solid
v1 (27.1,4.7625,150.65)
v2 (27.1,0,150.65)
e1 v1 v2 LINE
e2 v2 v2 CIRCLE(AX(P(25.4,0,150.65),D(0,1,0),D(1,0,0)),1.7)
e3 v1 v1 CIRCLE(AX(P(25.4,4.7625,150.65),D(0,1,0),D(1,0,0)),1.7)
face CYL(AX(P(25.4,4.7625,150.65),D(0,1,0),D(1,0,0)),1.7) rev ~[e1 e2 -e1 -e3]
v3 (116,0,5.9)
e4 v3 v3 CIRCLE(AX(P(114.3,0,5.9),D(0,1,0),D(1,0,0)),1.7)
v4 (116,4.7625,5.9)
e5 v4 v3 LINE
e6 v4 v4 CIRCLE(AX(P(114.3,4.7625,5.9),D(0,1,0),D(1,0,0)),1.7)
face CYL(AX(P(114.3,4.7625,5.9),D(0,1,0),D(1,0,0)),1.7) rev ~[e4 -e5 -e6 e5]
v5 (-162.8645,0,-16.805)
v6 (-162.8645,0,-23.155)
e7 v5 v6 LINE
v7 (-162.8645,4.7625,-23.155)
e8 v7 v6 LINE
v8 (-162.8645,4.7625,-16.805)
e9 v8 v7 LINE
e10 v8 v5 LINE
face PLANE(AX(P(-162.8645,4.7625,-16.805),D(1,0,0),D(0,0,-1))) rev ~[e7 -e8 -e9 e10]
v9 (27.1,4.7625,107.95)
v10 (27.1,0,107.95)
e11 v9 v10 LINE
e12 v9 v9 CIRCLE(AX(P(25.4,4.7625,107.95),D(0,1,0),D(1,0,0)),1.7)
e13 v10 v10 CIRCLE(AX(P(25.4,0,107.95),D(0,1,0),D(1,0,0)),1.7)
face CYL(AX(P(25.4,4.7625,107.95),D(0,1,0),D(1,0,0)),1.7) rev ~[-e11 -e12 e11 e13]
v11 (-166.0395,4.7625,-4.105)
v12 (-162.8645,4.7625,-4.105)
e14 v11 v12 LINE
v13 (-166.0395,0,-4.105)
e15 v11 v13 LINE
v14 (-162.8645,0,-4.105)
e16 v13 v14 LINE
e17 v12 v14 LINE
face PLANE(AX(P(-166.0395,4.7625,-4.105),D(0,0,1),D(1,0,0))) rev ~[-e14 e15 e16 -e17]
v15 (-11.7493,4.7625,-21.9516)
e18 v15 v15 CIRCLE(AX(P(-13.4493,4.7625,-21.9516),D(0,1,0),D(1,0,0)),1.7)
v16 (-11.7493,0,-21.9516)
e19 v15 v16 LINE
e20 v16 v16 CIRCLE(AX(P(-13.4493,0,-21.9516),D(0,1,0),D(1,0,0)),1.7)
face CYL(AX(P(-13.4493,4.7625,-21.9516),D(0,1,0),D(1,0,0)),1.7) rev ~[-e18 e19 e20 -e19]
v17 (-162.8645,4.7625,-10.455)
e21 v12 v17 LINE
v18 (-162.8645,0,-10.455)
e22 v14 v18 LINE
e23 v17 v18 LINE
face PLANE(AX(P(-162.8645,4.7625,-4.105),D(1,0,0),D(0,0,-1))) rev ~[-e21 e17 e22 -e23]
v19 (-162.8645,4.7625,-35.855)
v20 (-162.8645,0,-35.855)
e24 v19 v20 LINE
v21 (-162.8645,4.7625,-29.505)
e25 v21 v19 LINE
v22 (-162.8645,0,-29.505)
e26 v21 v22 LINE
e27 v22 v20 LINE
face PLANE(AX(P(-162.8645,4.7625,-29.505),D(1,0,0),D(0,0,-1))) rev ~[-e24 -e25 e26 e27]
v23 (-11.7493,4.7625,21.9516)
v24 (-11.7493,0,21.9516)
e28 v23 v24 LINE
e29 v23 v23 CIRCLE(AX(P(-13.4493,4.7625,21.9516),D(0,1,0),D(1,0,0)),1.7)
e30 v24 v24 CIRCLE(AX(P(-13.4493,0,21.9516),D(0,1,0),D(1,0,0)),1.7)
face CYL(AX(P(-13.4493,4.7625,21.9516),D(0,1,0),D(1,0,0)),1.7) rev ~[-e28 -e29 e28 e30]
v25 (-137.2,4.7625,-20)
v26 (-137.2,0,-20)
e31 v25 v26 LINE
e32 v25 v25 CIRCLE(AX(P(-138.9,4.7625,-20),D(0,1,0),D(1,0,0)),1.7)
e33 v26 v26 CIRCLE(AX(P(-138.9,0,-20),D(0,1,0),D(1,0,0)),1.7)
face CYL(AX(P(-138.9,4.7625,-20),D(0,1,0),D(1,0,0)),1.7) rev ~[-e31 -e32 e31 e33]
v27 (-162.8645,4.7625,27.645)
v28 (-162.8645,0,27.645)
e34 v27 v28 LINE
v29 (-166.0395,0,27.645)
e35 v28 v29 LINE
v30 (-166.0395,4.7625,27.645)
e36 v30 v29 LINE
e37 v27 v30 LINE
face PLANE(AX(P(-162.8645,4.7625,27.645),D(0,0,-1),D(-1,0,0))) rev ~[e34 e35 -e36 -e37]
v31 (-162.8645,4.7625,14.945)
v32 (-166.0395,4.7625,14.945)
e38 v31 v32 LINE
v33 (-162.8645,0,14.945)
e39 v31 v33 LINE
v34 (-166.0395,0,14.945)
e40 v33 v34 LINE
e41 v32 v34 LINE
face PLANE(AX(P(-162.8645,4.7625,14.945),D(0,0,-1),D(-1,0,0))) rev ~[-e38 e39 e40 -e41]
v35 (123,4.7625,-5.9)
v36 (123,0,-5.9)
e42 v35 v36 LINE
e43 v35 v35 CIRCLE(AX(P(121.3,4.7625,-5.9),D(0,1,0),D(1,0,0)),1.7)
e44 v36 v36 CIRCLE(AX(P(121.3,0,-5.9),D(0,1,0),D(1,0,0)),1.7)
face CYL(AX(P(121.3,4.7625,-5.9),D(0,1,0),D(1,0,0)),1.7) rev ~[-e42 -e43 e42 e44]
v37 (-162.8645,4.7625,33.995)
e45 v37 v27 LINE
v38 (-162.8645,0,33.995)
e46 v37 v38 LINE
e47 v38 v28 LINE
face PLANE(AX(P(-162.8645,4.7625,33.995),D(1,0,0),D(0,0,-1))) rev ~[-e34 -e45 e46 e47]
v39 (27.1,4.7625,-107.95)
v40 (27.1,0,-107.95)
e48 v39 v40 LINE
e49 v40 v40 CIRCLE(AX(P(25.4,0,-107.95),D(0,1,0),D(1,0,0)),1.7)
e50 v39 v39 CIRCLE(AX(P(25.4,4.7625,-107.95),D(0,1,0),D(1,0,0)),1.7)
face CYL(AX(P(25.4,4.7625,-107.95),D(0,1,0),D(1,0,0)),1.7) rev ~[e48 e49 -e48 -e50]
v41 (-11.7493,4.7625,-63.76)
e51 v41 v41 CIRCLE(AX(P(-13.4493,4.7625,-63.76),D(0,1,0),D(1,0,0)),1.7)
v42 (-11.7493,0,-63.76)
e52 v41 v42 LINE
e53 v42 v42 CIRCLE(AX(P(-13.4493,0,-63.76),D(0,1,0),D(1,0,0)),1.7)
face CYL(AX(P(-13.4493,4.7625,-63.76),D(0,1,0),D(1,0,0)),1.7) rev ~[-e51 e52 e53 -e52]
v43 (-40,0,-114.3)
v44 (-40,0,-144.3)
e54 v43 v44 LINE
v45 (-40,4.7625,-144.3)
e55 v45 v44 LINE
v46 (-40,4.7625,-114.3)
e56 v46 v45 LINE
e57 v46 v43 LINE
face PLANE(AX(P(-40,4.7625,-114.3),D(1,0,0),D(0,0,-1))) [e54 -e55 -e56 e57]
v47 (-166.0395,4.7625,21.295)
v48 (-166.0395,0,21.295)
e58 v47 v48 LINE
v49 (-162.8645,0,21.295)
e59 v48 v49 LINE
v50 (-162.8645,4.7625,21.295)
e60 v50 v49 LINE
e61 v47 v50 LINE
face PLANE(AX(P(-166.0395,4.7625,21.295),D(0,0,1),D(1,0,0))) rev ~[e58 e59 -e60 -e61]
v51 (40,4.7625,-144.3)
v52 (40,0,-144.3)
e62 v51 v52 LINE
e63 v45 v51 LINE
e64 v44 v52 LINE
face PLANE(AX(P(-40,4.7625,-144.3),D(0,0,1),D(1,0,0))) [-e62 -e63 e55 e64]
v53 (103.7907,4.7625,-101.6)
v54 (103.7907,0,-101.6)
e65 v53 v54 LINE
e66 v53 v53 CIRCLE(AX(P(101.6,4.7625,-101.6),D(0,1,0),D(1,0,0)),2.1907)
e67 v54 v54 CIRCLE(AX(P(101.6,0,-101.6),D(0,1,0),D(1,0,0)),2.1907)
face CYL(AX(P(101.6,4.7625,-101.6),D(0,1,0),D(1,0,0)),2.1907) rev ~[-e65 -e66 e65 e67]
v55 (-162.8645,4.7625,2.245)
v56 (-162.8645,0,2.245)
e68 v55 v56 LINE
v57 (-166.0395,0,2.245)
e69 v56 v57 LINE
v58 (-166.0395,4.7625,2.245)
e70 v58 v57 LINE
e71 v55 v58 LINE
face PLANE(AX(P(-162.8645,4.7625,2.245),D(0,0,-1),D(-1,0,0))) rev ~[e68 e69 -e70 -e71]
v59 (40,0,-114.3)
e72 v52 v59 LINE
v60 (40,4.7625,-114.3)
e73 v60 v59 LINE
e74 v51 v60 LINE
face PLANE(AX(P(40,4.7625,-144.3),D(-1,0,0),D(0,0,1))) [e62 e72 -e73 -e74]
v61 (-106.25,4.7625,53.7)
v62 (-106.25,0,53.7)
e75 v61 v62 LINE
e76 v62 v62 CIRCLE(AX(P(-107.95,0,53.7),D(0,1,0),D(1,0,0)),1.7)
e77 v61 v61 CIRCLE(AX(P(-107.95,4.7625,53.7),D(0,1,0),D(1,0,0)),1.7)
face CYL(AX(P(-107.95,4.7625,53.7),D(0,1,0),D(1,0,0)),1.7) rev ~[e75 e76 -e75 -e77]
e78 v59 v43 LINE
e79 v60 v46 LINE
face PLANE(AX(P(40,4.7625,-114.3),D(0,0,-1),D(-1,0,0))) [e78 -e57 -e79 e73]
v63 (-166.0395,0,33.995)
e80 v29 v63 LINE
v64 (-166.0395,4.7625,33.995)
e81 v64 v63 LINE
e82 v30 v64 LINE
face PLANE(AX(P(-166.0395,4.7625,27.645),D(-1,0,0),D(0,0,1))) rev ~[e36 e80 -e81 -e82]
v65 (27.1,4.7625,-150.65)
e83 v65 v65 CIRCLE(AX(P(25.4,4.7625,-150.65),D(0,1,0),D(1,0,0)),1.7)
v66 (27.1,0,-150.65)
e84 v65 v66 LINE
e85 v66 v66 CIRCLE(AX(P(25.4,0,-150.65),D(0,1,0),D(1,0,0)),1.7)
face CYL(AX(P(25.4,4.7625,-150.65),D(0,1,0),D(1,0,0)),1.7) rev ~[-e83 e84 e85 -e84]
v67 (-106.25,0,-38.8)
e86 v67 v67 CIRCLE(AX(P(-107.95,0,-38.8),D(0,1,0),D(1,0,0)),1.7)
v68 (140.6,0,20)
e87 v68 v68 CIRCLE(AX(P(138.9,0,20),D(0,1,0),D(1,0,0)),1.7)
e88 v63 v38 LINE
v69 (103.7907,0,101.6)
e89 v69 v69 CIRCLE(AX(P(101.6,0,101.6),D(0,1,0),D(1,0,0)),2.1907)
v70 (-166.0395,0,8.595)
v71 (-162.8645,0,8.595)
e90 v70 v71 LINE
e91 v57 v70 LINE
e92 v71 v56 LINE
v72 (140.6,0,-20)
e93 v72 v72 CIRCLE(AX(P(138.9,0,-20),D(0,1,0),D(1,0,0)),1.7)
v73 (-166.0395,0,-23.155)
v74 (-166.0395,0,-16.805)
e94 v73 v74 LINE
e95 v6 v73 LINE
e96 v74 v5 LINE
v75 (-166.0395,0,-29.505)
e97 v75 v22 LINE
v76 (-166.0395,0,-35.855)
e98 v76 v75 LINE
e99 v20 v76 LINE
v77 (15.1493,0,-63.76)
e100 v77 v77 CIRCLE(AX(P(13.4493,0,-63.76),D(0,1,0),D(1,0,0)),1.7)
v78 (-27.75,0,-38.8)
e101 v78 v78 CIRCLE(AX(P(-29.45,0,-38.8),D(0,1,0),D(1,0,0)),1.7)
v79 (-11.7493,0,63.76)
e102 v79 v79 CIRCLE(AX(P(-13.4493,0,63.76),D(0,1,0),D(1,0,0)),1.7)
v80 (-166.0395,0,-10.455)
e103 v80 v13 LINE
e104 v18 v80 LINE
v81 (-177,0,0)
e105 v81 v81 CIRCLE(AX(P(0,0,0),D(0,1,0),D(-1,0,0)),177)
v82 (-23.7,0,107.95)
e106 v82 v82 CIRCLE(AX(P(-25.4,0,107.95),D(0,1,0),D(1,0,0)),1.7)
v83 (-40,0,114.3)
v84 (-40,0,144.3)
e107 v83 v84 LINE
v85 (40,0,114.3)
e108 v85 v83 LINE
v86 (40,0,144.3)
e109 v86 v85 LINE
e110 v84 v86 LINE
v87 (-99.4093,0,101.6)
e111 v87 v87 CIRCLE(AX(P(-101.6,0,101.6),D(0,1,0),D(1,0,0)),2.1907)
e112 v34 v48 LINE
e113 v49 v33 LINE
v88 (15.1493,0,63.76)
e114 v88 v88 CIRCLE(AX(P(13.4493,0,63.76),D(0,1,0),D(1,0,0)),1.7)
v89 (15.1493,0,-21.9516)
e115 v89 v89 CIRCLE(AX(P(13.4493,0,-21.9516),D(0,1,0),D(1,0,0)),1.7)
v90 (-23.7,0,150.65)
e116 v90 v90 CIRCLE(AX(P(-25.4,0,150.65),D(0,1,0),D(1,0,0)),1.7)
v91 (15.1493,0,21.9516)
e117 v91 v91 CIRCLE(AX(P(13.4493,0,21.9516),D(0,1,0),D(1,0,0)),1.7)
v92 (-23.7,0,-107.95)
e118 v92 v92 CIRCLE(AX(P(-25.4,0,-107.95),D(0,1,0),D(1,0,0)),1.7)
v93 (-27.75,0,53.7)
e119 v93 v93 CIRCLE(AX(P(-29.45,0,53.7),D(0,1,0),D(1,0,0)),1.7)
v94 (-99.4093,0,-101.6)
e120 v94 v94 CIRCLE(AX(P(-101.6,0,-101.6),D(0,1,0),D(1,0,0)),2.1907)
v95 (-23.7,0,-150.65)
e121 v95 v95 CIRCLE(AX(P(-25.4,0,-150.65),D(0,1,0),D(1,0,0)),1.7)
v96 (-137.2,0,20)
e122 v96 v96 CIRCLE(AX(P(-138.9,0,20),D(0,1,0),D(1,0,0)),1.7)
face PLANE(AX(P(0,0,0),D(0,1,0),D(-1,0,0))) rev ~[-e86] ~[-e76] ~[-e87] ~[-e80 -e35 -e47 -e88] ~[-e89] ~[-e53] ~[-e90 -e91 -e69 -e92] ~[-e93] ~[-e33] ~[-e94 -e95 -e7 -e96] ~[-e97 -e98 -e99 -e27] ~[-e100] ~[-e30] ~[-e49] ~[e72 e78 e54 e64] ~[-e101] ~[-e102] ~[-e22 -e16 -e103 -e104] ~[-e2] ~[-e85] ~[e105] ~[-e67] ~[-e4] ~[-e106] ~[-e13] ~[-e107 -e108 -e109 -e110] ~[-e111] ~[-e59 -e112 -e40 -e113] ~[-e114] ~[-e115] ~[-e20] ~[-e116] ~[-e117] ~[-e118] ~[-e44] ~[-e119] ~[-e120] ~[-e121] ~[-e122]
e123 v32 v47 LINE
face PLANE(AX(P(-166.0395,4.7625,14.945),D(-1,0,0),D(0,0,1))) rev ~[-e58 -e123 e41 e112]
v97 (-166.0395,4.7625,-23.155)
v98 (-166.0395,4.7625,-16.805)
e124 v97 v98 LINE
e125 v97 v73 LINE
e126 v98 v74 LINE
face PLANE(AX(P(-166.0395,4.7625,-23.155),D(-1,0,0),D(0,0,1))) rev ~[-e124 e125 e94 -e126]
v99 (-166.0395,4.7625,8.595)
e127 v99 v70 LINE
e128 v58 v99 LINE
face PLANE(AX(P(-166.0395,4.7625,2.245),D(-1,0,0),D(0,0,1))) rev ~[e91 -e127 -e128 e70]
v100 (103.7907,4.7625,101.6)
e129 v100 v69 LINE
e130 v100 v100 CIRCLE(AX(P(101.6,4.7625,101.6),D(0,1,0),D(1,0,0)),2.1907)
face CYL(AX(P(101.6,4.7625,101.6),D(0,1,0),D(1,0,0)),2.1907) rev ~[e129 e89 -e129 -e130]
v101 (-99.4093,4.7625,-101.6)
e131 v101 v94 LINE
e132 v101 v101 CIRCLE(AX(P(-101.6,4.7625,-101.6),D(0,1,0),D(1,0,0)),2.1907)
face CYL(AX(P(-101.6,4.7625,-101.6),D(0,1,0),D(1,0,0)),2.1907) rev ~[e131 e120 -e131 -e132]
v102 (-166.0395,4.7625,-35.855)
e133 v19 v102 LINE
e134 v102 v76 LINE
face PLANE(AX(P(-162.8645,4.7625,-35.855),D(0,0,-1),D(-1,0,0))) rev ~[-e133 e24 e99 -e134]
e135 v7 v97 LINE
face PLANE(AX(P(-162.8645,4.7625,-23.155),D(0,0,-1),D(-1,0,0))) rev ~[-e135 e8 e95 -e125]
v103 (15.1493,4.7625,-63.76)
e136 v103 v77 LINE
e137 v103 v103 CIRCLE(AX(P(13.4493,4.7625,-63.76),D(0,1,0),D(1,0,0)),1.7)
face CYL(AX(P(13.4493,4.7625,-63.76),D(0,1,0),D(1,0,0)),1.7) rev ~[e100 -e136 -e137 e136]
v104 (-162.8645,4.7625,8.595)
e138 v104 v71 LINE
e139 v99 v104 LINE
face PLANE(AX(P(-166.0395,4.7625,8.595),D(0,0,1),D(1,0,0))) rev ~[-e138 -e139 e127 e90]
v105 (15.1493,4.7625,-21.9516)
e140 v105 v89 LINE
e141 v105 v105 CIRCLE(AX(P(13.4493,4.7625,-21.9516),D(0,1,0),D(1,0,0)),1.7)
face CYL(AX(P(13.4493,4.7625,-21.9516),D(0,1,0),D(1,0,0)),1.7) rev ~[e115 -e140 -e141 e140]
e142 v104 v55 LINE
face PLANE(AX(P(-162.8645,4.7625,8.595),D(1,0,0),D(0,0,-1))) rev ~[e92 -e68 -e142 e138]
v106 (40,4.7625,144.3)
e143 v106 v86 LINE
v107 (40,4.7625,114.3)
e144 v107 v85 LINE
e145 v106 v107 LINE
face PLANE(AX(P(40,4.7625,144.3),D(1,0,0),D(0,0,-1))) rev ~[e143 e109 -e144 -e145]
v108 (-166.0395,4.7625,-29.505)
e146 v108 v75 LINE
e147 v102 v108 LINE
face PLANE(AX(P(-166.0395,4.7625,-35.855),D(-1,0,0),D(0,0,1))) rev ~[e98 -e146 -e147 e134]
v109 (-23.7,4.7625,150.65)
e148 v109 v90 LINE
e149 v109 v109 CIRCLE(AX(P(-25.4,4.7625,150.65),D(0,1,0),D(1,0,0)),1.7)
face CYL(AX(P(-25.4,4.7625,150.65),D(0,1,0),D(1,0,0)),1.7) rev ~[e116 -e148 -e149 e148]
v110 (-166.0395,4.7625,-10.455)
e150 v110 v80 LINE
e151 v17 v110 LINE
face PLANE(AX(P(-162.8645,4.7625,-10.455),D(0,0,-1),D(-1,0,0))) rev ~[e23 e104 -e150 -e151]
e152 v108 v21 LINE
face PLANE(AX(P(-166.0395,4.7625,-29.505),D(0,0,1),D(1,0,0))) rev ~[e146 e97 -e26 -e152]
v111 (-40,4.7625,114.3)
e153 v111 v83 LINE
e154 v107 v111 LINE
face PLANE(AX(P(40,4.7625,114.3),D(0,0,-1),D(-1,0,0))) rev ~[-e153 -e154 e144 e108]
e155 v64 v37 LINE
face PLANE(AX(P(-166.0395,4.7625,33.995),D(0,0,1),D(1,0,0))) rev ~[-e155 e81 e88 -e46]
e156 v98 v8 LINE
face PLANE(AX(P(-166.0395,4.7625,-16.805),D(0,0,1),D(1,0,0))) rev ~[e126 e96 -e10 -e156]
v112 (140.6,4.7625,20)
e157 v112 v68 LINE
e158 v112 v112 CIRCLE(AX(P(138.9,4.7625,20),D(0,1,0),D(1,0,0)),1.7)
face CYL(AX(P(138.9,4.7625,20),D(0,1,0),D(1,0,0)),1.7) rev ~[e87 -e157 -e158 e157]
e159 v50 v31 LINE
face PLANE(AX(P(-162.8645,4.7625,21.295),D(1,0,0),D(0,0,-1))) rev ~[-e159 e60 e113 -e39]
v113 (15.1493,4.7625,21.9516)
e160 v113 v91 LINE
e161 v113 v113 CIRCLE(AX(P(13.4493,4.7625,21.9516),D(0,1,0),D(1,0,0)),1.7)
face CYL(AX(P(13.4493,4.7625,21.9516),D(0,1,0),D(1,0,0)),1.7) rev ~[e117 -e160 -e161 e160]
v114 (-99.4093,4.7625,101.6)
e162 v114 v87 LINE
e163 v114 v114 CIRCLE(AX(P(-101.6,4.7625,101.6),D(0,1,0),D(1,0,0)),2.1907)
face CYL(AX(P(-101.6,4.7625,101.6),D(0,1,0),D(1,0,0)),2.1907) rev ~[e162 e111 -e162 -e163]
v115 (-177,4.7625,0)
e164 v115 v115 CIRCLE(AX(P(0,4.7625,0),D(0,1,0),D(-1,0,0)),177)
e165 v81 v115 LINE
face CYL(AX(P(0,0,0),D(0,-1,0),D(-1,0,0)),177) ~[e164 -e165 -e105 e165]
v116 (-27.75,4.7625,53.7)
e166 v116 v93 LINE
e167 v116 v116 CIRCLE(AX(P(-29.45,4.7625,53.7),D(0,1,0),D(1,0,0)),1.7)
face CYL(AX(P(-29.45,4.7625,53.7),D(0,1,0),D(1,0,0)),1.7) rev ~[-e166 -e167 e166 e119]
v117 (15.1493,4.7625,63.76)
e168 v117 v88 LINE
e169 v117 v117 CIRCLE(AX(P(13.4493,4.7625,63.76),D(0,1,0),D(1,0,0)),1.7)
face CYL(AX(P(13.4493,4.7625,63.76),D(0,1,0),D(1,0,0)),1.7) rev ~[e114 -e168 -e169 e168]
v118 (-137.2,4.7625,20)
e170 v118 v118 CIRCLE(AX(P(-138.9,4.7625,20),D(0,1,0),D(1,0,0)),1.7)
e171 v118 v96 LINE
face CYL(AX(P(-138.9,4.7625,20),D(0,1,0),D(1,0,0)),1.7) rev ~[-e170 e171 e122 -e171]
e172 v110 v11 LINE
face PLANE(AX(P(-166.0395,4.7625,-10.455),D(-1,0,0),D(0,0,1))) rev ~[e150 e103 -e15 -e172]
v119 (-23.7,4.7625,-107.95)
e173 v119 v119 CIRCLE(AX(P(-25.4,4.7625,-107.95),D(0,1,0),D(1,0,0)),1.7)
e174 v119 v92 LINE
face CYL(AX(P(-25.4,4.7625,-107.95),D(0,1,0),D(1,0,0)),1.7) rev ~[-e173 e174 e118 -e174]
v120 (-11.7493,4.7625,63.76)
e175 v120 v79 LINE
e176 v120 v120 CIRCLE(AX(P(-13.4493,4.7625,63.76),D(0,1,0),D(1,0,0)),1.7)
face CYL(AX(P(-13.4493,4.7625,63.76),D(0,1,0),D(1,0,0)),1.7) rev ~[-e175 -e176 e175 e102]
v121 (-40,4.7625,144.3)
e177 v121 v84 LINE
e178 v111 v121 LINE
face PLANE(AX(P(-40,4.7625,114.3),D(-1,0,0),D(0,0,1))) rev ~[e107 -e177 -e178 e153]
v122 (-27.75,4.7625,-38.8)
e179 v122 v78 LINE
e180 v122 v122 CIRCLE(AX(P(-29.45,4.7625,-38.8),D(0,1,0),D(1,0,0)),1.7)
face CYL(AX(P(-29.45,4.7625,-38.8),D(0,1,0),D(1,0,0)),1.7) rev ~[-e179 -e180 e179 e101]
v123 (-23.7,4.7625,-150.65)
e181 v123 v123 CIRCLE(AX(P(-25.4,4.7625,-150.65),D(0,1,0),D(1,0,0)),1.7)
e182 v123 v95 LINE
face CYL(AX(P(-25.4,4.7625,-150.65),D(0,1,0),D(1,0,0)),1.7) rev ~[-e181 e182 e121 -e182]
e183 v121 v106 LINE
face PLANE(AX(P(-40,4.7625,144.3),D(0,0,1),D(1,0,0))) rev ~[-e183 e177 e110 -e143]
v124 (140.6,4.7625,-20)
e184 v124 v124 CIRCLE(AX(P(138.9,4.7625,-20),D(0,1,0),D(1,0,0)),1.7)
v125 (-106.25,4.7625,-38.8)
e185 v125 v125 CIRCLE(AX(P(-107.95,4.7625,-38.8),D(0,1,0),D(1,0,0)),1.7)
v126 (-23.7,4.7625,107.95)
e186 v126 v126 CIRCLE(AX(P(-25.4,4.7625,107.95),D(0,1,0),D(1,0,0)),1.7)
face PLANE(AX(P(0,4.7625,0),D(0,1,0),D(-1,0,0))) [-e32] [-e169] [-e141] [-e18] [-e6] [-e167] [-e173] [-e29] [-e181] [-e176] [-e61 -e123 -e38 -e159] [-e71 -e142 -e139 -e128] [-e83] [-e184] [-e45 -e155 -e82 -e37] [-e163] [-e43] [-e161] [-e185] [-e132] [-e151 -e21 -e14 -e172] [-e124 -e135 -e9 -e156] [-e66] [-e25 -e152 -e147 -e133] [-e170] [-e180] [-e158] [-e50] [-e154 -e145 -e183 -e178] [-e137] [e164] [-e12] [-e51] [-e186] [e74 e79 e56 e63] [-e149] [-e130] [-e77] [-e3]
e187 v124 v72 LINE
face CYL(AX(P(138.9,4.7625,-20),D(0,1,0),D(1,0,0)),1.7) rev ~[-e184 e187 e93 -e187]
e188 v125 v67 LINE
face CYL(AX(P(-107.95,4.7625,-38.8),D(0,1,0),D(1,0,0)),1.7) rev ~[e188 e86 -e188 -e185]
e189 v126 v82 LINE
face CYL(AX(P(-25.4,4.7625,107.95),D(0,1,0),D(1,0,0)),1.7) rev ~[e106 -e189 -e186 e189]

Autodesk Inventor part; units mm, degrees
ref_plane "YZ Plane" through (0, 0, 0) normal (1, 0, 0) x (0, 1, 0)
ref_plane "XZ Plane" through (0, 0, 0) normal (0, 1, 0) x (-1, 0, 0)
ref_plane "XY Plane" through (0, 0, 0) normal (0, 0, 1) x (1, 0, 0)
sketch "Sketch1" plane through (0, 0, 0) normal (0, 1, 0) x (-1, 0, 0)
  circle A0 centre (0, 0) radius 177
  dimension "d0" = 354
extrude "Extrusion1" add sketch "Sketch1" along normal blind 4.7625
sketch "Sketch2" plane through (0, 4.7625, 0) normal (0, 1, 0) x (1, 0, 0)
  circle A0 centre (101.6, -101.6) radius 2.1907
  circle A1 centre (101.6, 101.6) radius 2.1907
  circle A2 centre (-101.6, 101.6) radius 2.1907
  circle A3 centre (-101.6, -101.6) radius 2.1907
  circle A4 centre (0, 0) radius 177 projected
  dimension "d3" = 4.3815
  dimension "d4" = 4.3815
  dimension "d5" = 4.3815
  dimension "d6" = 4.3815
  dimension "d14" = 101.6
  dimension "d15" = 101.6
  dimension "d16" = 101.6
  dimension "d17" = 101.6
  dimension "d18" = 101.6
  dimension "d19" = 101.6
  dimension "d20" = 101.6
  dimension "d21" = 101.6
extrude "Standoff Holes" cut sketch "Sketch2" against normal through all contours A0 | A1 | A2 | A3
sketch "Sketch3" plane through (0, 4.7625, 0) normal (0, 1, 0) x (1, 0, 0)
  line L0 (-40, -144.3) -> (40, -144.3)
  line L1 (40, -144.3) -> (40, -114.3)
  line L2 (40, -114.3) -> (-40, -114.3)
  line L3 (-40, -114.3) -> (-40, -144.3)
  circle A0 centre (-25.4, -107.95) radius 1.7
  circle A1 centre (25.4, -107.95) radius 1.7
  circle A2 centre (25.4, -150.65) radius 1.7
  circle A3 centre (-25.4, -150.65) radius 1.7
  circle A4 centre (0, 0) radius 177 projected
  line L4 (-177, 0) -> (177, 0)
  line L5 (-40, 144.3) -> (40, 144.3)
  line L6 (40, 144.3) -> (40, 114.3)
  line L7 (40, 114.3) -> (-40, 114.3)
  line L8 (-40, 114.3) -> (-40, 144.3)
  circle A5 centre (-25.4, 107.95) radius 1.7
  circle A6 centre (25.4, 107.95) radius 1.7
  circle A7 centre (25.4, 150.65) radius 1.7
  circle A8 centre (-25.4, 150.65) radius 1.7
  point P0 (0, -114.3)
  point P1 (0, 114.3)
  dimension "d25" = 80
  dimension "d26" = 30
  dimension "d28" = 114.3
  dimension "d30" = 40
  dimension "d32" = 3.4
  dimension "d33" = 3.4
  dimension "d34" = 3.4
  dimension "d35" = 3.4
  dimension "d36" = 6.35
  dimension "d37" = 6.35
  dimension "d38" = 6.35
  dimension "d39" = 6.35
  dimension "d40" = 25.4
  dimension "d41" = 25.4
  dimension "d42" = 25.4
  dimension "d43" = 25.4
  dimension "d44" = 228.6
extrude "Wheels" cut sketch "Sketch3" against normal blind 25.4 contours L3 L2 L1 L0 | A0 | A1 | A2 | A3 | L5 L6 L7 L8 | A5 | A6 | A7 | A8
sketch "Sketch4" plane through (0, 4.7625, 0) normal (0, 1, 0) x (1, 0, 0)
  circle A0 centre (13.4493, -63.76) radius 1.7
  circle A1 centre (13.4493, -21.9516) radius 1.7
  circle A2 centre (-13.4493, -63.76) radius 1.7
  circle A3 centre (-13.4493, -21.9516) radius 1.7
  line L0 (-40, -114.3) -> (40, -114.3) projected
  circle A4 centre (0, 0) radius 177 projected
  line L1 (-177, 0) -> (177, 0) construction
  circle A5 centre (13.4493, 63.76) radius 1.7
  circle A6 centre (13.4493, 21.9516) radius 1.7
  circle A7 centre (-13.4493, 63.76) radius 1.7
  circle A8 centre (-13.4493, 21.9516) radius 1.7
  dimension "d47" = 3.4
  dimension "d48" = 3.4
  dimension "d49" = 3.4
  dimension "d50" = 3.4
  dimension "d51" = 26.8986
  dimension "d52" = 26.8986
  dimension "d53" = 41.8084
  dimension "d54" = 41.8084
  dimension "d55" = 13.4493
  dimension "d56" = 13.4493
  dimension "d57" = 50.54
  dimension "d84" = 13.4493
extrude "Motor Mount" cut sketch "Sketch4" against normal through all contours A0 | A1 | A2 | A3 | A5 | A6 | A7 | A8
sketch "Sketch5" plane through (0, 4.7625, 0) normal (0, 1, 0) x (1, 0, 0)
  circle A0 centre (-107.95, -53.7) radius 1.7
  circle A1 centre (-107.95, 38.8) radius 1.7
  circle A2 centre (-29.45, 38.8) radius 1.7
  circle A3 centre (-29.45, -53.7) radius 1.7
  point P0 (0, 0)
  dimension "d61" = 3.4
  dimension "d62" = 3.4
  dimension "d63" = 3.4
  dimension "d64" = 3.4
  dimension "d65" = 92.5
  dimension "d66" = 92.5
  dimension "d67" = 78.5
  dimension "d68" = 78.5
  dimension "d69" = 38.8
  dimension "d70" = 38.8
  dimension "d72" = 53.7
  dimension "d73" = 107.95
extrude "PCB" cut sketch "Sketch5" against normal blind 25.4
sketch "Sketch6" plane through (0, 4.7625, 0) normal (0, 1, 0) x (1, 0, 0)
  circle A0 centre (138.9, -20) radius 1.7
  circle A1 centre (138.9, 20) radius 1.7
  circle A2 centre (0, 0) radius 177 projected
  line L0 (177, 0) -> (177, 59.2823) construction
  line L1 (0, -177) -> (0, 177) construction
  circle A3 centre (-138.9, -20) radius 1.7
  circle A4 centre (-138.9, 20) radius 1.7
  dimension "d76" = 3.4
  dimension "d77" = 3.4
  dimension "d78" = 40
  dimension "d80" = 20
  dimension "d81" = 38.1
extrude "Caster" cut sketch "Sketch6" against normal blind 25.4 contours A0 | A1 | A3 | A4
sketch "Sketch7" plane through (0, 4.7625, 0) normal (0, 1, 0) x (1, 0, 0)
  line L0 (-166.0395, -33.995) -> (-162.8645, -33.995)
  line L1 (-162.8645, -33.995) -> (-162.8645, -27.645)
  line L2 (-162.8645, -27.645) -> (-166.0395, -27.645)
  line L3 (-166.0395, -27.645) -> (-166.0395, -33.995)
  line L4 (-162.8645, -21.295) -> (-162.8645, -14.945)
  line L5 (-162.8645, -14.945) -> (-166.0395, -14.945)
  line L6 (-166.0395, -14.945) -> (-166.0395, -21.295)
  line L7 (-166.0395, -21.295) -> (-162.8645, -21.295)
  line L8 (-162.8645, -8.595) -> (-162.8645, -2.245)
  line L9 (-162.8645, -2.245) -> (-166.0395, -2.245)
  line L10 (-166.0395, -2.245) -> (-166.0395, -8.595)
  line L11 (-166.0395, -8.595) -> (-162.8645, -8.595)
  line L12 (-162.8645, 4.105) -> (-162.8645, 10.455)
  line L13 (-162.8645, 10.455) -> (-166.0395, 10.455)
  line L14 (-166.0395, 10.455) -> (-166.0395, 4.105)
  line L15 (-166.0395, 4.105) -> (-162.8645, 4.105)
  line L16 (-162.8645, 16.805) -> (-162.8645, 23.155)
  line L17 (-162.8645, 23.155) -> (-166.0395, 23.155)
  line L18 (-166.0395, 23.155) -> (-166.0395, 16.805)
  line L19 (-166.0395, 16.805) -> (-162.8645, 16.805)
  line L20 (-162.8645, 29.505) -> (-162.8645, 35.855)
  line L21 (-162.8645, 35.855) -> (-166.0395, 35.855)
  line L22 (-166.0395, 35.855) -> (-166.0395, 29.505)
  line L23 (-166.0395, 29.505) -> (-162.8645, 29.505)
  point P0 (0, 0)
  dimension "d85" = 6.35
  dimension "d86" = 3.175
  dimension "d89" = 12.7
  dimension "d94" = 162.8645
  dimension "d95" = 33.995
extrude "Switch" cut sketch "Sketch7" against normal through all
sketch "Sketch8" plane through (0, 4.7625, 0) normal (0, 1, 0) x (1, 0, 0)
  circle A0 centre (121.3, 5.9) radius 1.7
  circle A1 centre (114.3, -5.9) radius 1.7
  point P0 (0, 0)
  dimension "d98" = 3.4
  dimension "d99" = 3.4
  dimension "d100" = 11.8
  dimension "d101" = 7
  dimension "d102" = 5.9
  dimension "d103" = 114.3
extrude "Extrusion8" cut sketch "Sketch8" against normal blind 25.4
equation "\"d3\" = d4"
equation "\"d5\" = d4"
equation "\"d6\" = d4"
equation "\"d30\" = 0.5 * d25"
equation "\"d52\" = d51"
equation "\"d54\" = d53"
equation "\"d55\" = 0.5 * d51"
equation "\"d56\" = d55"
equation "\"d62\" = d61"
equation "\"d63\" = d61"
equation "\"d64\" = d61"
equation "\"d66\" = d65"
equation "\"d68\" = d67"
equation "\"d70\" = d69"
equation "\"d72\" = d65 - d69"
equation "\"d80\" = 0.5 * d78"
equation "\"d98\" = m3_clearance"
equation "\"d99\" = m3_clearance"
equation "\"d102\" = 0.5 * d100"
equation "\"m3_heat_set_insert\" = 4"
equation "\"m3_clearance\" = 3.4"
equation "\"m3_heat_set_depth\" = 7"
equation "\"robot_diameter\" = 354"
equation "\"hardboard_thickness\" = 5"
equation "\"motor_centerline_height\" = 13"
properties part number "layer1"
